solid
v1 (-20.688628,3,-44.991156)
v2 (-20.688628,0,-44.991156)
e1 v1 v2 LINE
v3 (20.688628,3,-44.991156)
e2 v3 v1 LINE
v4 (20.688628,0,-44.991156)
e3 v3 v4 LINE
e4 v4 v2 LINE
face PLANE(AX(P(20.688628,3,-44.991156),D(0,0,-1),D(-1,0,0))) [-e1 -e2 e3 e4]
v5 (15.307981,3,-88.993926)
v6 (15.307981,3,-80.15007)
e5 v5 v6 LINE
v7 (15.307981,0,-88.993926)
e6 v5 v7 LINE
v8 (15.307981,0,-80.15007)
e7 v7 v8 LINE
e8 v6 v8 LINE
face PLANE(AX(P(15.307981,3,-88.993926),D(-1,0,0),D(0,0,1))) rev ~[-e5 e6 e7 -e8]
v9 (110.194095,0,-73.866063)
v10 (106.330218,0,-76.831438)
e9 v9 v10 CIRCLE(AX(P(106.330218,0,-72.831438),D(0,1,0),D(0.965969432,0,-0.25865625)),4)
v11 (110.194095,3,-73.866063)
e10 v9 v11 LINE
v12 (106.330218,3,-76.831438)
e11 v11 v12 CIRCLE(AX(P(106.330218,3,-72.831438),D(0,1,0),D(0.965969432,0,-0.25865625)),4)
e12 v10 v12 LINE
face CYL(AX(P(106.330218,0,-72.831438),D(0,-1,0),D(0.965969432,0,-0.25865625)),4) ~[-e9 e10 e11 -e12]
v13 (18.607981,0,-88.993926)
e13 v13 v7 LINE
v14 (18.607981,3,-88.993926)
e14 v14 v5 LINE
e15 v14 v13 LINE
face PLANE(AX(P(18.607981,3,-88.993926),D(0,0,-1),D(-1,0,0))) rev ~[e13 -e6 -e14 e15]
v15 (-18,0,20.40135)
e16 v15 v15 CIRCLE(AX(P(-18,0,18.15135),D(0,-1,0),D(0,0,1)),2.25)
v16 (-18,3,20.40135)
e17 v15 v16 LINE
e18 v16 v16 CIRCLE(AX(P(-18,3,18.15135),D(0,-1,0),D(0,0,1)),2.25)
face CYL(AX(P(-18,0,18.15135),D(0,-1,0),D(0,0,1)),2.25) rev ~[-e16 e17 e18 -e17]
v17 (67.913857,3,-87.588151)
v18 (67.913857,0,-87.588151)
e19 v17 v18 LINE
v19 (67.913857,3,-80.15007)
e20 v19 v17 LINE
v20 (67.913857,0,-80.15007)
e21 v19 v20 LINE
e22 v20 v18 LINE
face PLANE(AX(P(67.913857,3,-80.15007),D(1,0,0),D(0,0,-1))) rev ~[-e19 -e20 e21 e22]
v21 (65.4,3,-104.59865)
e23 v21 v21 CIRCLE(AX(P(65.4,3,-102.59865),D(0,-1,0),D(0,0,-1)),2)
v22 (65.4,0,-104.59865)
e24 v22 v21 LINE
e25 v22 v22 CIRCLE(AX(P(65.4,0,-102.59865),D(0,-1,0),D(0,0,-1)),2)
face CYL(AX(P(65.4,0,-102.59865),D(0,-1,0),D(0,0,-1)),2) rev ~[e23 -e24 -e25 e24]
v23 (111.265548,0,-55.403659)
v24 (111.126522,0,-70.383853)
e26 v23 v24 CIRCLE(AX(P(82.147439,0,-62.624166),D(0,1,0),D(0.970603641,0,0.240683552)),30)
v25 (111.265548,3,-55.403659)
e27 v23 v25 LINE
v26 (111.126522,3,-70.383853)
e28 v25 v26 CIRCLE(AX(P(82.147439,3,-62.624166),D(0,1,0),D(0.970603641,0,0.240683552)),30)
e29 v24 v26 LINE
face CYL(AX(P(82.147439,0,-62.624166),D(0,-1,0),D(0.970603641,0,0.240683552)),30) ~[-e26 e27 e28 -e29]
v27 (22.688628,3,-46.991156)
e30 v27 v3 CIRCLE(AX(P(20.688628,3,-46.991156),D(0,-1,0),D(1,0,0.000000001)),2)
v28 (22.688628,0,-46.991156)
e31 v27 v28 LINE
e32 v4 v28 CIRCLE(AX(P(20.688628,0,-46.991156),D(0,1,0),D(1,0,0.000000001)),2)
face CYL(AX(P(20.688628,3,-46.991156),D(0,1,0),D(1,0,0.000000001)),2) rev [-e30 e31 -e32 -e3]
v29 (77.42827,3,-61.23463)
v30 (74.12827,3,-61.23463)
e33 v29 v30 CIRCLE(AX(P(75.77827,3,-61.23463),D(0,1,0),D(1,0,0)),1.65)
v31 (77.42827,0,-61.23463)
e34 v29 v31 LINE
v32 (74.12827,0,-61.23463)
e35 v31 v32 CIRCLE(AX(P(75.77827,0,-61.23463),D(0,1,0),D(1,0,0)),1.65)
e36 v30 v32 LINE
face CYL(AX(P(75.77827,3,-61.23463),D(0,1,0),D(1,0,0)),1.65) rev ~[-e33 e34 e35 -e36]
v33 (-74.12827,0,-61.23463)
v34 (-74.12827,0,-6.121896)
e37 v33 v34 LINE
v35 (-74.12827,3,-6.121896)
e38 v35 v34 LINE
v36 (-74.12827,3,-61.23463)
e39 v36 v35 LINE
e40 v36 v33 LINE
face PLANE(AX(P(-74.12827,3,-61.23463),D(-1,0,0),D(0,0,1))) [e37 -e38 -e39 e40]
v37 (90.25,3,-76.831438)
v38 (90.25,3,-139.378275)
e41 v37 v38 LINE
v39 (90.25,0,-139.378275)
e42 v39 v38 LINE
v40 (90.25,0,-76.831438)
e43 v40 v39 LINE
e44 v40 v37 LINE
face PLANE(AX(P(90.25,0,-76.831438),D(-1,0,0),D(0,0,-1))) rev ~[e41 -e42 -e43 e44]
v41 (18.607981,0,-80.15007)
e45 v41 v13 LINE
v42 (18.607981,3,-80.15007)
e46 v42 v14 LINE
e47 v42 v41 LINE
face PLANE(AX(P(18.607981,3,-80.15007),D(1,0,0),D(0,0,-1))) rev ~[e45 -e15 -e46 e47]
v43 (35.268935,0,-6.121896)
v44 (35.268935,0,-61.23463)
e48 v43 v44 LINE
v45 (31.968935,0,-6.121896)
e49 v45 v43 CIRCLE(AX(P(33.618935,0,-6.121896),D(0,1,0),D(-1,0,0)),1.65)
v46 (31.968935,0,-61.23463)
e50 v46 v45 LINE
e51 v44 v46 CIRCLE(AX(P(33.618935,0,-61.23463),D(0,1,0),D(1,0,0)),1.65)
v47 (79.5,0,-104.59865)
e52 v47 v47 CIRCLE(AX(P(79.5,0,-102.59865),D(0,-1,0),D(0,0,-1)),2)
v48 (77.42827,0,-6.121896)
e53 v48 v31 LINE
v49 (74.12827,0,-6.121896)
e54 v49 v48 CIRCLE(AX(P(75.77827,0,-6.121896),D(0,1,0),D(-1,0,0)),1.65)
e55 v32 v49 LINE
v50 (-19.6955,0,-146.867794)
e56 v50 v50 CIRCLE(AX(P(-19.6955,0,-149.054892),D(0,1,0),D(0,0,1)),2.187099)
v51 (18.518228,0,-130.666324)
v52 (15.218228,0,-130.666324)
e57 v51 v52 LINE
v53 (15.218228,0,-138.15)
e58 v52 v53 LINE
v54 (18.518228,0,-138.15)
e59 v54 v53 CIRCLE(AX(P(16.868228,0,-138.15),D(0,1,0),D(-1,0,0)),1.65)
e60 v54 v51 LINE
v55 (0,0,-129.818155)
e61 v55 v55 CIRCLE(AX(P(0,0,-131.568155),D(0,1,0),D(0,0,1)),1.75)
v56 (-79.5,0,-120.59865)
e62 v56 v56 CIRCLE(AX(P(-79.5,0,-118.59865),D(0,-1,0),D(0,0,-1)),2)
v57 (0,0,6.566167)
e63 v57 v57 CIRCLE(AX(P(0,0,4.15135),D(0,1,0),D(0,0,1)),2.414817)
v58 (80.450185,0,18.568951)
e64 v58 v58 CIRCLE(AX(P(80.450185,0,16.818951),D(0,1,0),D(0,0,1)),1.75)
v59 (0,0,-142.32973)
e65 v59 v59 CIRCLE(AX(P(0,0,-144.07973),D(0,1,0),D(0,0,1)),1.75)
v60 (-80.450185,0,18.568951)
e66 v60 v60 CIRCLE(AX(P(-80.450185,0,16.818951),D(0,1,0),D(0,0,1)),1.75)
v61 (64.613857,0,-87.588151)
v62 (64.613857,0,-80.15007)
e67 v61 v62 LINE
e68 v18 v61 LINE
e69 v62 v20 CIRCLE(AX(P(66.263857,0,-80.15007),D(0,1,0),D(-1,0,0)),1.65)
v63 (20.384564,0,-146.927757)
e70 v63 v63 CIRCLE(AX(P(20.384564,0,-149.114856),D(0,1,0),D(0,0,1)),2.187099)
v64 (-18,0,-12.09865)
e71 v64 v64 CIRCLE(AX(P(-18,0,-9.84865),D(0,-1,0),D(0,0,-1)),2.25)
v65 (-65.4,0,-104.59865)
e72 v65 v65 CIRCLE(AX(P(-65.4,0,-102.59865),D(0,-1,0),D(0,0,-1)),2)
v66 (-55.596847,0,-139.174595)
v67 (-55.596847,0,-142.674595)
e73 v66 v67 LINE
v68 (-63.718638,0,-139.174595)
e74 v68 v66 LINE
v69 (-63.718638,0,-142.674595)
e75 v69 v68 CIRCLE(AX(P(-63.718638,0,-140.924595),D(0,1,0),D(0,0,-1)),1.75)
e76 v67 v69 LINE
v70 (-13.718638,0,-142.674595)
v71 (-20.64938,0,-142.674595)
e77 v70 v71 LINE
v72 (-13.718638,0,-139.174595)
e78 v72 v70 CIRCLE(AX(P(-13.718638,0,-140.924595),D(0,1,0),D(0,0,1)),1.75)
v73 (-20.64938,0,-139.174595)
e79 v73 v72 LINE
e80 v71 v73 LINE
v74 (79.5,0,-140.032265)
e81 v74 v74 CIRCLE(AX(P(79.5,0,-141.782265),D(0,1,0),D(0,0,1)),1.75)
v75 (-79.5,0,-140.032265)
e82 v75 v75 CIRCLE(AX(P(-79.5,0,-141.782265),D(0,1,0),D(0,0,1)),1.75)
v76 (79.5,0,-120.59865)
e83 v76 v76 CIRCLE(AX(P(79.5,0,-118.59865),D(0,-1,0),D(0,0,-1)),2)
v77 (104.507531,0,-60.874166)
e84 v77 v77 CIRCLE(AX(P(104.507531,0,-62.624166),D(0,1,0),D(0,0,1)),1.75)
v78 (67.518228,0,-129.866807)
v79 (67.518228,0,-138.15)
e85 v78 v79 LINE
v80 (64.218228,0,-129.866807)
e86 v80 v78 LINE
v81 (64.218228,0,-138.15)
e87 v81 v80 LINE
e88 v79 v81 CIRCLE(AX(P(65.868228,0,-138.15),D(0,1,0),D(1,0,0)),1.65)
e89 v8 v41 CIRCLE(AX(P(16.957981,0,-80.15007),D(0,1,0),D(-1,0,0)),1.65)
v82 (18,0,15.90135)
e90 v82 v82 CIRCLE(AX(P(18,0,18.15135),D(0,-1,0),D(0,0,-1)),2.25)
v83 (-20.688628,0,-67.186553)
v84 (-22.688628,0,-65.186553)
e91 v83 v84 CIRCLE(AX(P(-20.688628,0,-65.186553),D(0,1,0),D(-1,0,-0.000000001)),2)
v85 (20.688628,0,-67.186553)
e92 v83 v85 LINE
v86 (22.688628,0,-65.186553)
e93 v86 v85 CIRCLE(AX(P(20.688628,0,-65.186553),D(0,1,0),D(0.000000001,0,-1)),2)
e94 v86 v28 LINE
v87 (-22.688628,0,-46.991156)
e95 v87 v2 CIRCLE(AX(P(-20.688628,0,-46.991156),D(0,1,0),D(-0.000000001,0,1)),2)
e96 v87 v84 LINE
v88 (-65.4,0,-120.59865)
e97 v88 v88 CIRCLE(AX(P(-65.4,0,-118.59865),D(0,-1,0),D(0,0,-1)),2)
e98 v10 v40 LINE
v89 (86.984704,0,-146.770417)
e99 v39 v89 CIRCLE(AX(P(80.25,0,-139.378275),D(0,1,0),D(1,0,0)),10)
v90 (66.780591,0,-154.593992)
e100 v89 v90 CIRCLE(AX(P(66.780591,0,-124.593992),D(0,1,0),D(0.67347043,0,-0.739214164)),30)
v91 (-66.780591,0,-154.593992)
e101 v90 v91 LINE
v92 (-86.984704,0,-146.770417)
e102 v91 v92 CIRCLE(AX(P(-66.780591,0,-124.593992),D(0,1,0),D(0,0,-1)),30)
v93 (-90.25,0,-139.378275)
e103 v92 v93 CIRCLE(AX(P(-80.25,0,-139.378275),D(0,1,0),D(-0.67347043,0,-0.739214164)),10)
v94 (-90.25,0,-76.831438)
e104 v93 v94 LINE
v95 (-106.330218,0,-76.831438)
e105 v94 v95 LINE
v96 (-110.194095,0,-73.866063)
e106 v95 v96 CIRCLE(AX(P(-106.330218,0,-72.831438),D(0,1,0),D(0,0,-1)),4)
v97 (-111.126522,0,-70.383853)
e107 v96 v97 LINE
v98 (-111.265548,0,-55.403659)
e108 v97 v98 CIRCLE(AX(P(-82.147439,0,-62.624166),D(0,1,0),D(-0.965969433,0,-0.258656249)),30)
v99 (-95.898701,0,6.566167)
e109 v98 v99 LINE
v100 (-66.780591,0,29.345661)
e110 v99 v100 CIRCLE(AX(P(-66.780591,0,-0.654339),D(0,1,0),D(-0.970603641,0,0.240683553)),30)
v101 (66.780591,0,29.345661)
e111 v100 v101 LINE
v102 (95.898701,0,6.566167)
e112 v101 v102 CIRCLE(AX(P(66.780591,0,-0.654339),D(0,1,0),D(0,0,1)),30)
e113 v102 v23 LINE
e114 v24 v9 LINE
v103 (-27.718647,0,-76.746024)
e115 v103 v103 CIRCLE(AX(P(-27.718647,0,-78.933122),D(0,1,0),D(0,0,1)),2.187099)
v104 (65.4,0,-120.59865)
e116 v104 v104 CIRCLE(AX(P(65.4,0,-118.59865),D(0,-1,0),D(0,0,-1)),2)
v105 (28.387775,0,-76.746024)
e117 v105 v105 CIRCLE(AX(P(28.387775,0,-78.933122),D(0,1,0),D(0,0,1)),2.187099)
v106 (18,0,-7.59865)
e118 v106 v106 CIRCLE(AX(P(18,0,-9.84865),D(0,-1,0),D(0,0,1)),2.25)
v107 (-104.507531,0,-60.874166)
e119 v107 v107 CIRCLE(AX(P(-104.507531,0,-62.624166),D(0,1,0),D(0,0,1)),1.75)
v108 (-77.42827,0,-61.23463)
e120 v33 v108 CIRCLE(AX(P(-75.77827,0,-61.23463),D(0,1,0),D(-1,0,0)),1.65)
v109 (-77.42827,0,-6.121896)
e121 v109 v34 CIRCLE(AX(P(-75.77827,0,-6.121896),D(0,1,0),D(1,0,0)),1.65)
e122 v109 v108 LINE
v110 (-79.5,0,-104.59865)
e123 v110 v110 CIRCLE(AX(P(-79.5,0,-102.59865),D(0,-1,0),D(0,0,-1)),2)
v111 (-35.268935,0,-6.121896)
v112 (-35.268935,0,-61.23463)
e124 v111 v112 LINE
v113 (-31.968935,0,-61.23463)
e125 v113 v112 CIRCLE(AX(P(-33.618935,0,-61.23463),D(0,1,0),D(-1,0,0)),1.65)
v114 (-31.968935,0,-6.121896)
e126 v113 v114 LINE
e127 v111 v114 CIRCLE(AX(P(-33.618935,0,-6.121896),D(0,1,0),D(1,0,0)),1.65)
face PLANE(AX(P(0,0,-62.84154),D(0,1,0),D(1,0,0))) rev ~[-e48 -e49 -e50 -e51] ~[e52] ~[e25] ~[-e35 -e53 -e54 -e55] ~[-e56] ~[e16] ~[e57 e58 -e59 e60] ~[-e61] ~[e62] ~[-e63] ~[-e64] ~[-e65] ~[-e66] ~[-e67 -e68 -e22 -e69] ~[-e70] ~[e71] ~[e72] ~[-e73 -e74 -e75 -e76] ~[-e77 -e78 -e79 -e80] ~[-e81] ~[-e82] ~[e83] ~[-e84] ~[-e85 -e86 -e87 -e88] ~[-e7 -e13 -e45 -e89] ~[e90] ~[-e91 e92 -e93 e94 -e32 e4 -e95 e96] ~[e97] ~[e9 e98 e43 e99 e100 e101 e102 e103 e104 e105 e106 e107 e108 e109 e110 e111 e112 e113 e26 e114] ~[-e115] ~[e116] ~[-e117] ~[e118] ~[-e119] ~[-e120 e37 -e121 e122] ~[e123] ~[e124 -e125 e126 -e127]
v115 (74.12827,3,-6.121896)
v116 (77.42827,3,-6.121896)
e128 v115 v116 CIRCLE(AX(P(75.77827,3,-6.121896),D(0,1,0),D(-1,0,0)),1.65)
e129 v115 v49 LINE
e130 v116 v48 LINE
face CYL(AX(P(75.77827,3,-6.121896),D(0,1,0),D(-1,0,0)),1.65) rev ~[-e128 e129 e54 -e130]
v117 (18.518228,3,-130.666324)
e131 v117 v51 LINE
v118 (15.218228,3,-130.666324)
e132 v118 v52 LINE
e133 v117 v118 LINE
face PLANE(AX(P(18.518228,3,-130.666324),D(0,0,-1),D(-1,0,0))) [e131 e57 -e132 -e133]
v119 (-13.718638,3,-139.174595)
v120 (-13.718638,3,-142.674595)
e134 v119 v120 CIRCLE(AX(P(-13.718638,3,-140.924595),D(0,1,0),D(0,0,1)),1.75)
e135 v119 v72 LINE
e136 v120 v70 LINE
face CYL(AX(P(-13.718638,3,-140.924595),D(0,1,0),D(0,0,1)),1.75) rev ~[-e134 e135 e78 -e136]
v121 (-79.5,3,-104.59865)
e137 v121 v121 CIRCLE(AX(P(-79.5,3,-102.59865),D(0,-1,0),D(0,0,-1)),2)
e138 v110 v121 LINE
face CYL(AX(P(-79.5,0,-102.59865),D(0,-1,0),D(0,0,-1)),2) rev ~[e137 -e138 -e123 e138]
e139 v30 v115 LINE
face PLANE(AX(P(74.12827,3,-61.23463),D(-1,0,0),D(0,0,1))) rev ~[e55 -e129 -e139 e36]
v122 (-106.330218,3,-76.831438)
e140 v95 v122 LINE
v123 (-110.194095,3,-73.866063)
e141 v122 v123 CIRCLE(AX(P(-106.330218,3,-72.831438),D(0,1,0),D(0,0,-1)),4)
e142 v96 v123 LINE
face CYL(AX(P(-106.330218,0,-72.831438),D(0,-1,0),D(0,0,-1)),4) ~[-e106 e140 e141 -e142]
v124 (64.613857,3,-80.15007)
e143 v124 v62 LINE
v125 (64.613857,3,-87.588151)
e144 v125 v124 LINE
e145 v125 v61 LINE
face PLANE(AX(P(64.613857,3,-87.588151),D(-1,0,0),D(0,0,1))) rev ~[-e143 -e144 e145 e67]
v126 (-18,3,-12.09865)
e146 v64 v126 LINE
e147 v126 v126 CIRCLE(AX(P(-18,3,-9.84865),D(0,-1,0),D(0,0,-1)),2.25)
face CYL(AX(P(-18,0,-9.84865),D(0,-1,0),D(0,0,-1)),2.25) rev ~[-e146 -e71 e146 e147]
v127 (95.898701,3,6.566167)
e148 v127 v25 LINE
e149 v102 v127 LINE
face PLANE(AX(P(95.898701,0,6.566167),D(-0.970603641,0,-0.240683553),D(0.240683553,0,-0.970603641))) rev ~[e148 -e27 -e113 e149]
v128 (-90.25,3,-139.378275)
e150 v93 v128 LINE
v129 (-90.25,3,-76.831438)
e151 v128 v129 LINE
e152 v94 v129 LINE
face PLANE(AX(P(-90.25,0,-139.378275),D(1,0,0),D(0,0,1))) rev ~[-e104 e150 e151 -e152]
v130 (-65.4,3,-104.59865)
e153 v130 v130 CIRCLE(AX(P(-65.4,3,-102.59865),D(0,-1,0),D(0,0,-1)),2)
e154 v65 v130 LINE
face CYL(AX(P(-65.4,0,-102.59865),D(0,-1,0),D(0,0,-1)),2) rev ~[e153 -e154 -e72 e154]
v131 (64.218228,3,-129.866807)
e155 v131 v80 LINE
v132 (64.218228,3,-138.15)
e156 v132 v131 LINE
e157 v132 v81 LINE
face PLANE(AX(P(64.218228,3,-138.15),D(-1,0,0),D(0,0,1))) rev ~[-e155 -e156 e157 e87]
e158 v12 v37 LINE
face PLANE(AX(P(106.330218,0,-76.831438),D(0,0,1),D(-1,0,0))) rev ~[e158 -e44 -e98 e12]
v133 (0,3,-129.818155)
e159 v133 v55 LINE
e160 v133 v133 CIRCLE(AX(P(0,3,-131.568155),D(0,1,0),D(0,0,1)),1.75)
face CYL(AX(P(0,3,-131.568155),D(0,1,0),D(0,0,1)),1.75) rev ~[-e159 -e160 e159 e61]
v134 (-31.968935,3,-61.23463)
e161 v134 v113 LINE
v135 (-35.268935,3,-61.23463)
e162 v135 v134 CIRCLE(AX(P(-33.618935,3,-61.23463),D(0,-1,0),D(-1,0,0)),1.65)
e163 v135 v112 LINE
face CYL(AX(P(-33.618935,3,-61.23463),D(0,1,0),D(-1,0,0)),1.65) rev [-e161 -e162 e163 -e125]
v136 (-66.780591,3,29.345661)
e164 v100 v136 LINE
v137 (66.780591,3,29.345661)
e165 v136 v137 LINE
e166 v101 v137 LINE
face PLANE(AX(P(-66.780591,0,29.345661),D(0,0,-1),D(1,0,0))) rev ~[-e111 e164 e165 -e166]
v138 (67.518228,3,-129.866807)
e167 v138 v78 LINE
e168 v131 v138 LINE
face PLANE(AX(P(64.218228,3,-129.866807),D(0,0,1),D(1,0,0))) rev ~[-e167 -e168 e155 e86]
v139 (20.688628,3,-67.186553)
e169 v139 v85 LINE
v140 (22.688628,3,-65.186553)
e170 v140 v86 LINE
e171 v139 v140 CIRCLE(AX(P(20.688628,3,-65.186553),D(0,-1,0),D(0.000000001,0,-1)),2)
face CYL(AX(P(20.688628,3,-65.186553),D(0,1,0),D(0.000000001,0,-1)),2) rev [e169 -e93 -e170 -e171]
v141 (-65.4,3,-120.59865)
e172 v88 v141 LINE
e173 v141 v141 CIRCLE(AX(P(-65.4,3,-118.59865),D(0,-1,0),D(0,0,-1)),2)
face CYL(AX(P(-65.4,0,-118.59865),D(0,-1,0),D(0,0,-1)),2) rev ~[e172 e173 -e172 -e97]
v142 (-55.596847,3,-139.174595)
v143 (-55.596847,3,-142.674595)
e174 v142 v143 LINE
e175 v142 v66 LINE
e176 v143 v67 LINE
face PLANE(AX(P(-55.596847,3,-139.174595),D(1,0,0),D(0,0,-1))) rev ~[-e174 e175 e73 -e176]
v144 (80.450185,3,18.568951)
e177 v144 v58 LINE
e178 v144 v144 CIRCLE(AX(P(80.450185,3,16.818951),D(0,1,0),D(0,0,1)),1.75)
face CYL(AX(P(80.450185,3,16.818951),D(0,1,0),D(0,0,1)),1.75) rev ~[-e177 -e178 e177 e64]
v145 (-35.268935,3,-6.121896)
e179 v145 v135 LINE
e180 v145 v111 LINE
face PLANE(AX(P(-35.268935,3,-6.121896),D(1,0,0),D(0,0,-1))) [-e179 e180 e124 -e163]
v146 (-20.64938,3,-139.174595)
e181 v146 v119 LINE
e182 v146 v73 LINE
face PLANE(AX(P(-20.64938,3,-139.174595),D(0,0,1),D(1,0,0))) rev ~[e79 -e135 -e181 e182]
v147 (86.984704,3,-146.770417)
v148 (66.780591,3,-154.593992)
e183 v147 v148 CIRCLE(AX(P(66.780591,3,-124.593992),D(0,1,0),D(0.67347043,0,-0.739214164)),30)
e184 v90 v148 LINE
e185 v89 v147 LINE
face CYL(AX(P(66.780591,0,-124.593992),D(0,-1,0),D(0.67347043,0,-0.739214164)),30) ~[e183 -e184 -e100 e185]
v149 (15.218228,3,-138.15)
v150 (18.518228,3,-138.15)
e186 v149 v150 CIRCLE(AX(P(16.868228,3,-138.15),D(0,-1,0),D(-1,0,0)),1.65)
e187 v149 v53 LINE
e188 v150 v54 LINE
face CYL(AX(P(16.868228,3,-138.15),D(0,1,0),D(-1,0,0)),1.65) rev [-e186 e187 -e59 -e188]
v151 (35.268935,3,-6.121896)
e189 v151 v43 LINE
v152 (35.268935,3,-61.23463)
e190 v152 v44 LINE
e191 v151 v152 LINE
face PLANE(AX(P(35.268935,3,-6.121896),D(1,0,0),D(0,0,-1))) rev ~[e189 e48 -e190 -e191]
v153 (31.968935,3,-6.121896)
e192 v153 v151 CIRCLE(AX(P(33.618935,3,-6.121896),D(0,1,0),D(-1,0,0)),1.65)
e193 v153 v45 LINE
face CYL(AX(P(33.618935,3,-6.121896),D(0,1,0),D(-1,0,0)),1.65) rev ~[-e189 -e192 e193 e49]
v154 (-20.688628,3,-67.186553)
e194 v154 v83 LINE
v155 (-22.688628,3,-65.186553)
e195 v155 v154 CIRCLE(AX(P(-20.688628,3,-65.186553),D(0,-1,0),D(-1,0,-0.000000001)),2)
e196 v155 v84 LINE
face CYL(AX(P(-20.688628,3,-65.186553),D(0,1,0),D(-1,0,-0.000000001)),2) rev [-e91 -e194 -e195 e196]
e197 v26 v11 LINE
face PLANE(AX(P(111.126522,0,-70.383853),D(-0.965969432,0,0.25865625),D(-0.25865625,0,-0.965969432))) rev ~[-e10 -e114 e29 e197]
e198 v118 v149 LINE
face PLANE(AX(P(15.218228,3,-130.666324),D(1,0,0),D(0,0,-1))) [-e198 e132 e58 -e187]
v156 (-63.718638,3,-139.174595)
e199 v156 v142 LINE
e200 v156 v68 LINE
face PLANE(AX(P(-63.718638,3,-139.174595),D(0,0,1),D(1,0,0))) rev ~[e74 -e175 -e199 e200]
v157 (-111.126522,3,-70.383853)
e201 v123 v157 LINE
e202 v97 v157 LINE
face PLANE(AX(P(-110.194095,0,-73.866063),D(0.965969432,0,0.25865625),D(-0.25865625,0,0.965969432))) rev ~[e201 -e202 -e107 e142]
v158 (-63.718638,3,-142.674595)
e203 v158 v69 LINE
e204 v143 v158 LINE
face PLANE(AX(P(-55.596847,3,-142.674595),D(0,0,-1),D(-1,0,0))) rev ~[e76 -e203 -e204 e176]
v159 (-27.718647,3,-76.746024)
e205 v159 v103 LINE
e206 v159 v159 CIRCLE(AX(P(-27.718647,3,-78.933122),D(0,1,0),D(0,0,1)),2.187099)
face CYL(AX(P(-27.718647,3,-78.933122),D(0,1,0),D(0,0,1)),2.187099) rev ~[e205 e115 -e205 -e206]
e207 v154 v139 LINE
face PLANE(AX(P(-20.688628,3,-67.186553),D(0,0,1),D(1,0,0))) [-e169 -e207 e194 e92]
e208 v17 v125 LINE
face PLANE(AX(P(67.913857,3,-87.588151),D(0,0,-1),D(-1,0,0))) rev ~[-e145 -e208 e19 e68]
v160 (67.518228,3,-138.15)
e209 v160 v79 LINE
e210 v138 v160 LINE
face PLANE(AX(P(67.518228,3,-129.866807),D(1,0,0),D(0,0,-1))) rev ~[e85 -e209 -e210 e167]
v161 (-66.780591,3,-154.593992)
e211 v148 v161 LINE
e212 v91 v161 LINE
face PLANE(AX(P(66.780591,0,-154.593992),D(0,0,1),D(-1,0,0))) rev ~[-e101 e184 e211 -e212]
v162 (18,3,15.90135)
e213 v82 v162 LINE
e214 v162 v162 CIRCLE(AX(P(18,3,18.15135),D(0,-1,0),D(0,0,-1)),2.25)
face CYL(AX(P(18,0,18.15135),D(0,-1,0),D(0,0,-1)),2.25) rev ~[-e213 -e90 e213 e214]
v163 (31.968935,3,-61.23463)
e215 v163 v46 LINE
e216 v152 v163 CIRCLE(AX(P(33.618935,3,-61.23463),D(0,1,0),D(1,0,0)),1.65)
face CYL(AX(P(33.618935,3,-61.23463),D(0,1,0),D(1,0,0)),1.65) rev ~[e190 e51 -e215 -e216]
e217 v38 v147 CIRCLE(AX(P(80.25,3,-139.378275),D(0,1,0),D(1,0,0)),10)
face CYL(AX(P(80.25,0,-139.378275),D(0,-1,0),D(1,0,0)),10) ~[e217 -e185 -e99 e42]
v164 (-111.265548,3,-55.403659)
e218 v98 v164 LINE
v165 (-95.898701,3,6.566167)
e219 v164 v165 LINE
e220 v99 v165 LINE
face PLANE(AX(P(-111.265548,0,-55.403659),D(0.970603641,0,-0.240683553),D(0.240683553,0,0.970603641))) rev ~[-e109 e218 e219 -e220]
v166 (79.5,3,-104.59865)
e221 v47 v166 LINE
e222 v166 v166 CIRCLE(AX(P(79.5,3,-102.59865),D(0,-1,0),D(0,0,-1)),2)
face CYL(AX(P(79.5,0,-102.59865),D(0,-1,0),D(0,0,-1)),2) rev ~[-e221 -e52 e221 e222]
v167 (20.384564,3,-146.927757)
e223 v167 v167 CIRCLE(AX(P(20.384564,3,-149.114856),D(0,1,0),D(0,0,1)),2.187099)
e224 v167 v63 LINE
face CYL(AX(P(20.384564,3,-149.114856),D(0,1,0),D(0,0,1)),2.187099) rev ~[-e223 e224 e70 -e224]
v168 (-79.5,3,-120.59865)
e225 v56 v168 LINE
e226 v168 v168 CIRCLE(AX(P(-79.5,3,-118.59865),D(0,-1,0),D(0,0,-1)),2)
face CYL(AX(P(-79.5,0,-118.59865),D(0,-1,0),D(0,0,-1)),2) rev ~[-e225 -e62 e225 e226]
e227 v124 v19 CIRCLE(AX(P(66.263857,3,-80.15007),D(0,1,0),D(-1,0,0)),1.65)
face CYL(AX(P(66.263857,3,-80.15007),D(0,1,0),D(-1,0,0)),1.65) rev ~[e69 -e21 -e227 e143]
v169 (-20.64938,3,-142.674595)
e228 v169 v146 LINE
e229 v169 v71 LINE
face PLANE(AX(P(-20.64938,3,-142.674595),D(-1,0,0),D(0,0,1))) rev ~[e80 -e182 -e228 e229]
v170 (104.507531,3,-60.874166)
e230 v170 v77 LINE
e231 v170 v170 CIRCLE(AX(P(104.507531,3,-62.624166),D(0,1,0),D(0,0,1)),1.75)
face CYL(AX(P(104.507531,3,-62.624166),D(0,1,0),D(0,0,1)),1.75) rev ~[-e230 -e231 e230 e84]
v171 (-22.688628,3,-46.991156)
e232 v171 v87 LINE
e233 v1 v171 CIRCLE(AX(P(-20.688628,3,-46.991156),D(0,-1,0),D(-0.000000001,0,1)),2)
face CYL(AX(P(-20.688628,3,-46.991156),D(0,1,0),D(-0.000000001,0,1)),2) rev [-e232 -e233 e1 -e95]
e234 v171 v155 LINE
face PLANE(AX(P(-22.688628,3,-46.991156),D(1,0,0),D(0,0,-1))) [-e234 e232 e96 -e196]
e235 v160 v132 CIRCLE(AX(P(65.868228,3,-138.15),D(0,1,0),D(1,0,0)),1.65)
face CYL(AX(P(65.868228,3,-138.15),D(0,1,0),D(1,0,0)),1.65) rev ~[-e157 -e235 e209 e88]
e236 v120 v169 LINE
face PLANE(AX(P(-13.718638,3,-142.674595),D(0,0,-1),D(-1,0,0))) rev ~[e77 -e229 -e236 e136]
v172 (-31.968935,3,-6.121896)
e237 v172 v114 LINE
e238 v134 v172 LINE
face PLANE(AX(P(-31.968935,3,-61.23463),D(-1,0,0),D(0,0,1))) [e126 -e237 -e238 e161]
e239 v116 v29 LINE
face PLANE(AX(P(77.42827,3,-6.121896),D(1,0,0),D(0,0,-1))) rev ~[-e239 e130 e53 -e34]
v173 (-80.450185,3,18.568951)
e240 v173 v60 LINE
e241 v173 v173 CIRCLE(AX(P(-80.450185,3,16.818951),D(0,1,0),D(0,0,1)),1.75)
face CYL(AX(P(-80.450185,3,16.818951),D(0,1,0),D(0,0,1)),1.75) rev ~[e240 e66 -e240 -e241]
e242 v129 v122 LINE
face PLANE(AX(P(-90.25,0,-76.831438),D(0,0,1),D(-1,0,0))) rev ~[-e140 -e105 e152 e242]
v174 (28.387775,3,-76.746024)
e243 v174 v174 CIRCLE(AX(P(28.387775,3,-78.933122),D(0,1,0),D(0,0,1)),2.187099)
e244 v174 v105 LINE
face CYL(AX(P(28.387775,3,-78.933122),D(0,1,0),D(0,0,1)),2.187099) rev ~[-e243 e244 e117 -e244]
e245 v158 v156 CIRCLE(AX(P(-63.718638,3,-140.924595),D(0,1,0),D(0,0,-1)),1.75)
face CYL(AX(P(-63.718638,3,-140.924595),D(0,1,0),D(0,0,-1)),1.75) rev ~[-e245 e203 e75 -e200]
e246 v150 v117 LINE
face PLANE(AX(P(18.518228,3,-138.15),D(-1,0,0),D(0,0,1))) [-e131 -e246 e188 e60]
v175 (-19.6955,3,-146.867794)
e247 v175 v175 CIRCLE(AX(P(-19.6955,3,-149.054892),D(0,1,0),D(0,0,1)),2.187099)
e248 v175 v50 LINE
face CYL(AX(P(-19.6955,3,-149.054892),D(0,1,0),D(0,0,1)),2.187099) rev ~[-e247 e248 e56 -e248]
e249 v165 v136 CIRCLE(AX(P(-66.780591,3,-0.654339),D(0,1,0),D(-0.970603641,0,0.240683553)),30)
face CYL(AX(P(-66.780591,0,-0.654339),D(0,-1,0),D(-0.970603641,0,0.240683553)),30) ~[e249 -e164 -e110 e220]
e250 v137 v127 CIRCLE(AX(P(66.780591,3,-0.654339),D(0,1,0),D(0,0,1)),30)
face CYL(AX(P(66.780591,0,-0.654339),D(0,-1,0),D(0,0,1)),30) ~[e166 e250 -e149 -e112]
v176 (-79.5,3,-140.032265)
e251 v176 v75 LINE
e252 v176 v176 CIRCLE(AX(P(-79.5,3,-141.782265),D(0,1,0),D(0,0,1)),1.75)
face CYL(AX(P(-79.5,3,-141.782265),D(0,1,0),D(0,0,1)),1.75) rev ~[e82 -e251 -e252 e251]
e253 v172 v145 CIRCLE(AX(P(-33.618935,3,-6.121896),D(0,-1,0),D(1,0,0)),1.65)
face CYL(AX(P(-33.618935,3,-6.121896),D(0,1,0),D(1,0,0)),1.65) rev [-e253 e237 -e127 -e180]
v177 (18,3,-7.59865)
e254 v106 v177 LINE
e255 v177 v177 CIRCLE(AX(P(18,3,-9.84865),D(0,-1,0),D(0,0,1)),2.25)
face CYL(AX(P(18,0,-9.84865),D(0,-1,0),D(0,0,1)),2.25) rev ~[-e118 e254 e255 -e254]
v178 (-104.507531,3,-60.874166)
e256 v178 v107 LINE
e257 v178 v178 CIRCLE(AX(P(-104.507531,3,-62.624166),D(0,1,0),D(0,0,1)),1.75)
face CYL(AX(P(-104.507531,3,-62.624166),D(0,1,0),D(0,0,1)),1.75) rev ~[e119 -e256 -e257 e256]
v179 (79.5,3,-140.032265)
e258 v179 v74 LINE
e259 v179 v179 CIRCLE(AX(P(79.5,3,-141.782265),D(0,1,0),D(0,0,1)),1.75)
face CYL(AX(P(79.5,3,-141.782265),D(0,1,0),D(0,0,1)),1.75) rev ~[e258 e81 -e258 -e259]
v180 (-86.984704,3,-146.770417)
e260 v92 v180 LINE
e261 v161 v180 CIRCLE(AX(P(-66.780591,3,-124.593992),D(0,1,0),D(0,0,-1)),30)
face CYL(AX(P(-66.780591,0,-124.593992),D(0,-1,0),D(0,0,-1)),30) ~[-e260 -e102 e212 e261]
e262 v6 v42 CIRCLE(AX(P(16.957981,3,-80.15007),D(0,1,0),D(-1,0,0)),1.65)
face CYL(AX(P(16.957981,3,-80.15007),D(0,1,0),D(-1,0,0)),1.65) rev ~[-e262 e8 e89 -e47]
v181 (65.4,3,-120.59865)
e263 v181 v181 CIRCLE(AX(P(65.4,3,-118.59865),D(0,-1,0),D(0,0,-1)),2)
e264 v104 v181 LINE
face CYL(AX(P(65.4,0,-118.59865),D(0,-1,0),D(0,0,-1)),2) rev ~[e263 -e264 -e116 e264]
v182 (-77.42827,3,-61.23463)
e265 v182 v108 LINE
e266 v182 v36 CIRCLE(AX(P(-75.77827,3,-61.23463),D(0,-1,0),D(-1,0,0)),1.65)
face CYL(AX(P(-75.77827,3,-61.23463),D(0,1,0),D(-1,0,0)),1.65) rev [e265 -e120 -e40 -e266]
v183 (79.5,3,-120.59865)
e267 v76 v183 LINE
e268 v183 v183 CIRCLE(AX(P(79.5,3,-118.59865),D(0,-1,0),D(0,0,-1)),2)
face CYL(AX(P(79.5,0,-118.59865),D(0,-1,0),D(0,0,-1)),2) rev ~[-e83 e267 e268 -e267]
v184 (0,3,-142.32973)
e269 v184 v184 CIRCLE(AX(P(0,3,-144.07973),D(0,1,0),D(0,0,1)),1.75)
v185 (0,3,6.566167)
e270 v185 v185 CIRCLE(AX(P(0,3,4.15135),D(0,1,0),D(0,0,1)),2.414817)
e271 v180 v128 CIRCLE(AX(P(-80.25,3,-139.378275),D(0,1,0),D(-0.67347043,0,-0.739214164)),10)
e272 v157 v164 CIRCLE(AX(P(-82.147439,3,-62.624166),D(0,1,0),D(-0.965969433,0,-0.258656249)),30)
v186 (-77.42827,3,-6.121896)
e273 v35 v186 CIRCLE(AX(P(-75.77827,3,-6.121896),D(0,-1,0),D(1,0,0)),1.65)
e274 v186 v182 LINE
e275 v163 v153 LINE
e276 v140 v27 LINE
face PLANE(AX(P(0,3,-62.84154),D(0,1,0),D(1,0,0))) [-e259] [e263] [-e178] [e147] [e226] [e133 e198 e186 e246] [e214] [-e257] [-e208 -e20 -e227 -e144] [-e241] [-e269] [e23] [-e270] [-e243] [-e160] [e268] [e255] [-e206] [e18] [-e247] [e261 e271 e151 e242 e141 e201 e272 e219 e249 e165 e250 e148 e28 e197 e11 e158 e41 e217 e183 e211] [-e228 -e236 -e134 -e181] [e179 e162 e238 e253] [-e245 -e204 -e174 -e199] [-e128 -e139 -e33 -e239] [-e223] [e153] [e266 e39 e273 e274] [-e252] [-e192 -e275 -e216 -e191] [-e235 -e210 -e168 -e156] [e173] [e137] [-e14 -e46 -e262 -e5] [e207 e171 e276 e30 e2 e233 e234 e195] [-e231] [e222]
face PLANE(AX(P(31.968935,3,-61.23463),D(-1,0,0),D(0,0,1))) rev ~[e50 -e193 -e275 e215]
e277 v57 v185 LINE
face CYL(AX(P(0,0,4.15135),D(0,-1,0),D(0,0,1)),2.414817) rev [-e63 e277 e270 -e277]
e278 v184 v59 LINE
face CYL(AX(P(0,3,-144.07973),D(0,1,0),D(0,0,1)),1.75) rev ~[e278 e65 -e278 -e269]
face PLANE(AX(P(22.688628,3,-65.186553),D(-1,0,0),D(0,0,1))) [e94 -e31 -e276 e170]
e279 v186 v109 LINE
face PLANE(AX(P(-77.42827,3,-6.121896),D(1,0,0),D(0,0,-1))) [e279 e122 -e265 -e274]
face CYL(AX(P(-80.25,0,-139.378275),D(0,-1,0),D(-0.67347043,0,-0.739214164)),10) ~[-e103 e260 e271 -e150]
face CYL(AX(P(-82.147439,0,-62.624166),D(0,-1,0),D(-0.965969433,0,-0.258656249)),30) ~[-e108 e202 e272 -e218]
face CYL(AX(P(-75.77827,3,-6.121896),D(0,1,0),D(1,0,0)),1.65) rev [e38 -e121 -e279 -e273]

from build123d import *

# Parameters (mm, degrees)
SKETCH_1_R           = 2.414816814
EXTRUDE_1_DEPTH      = 3
SKETCH_2_R           = 1.75
CUT_EXTRUDE_1_DEPTH  = 10
SKETCH_3_R           = 1.75
CUT_EXTRUDE_2_DEPTH  = 10
SKETCH_4_R           = 2
CUT_EXTRUDE_3_DEPTH  = 10
SKETCH_5_R           = 2.187098749
CUT_EXTRUDE_4_DEPTH  = 10
SKETCH_6_R           = 1.75
CUT_EXTRUDE_5_DEPTH  = 10
CUT_EXTRUDE_6_DEPTH  = 10
CUT_EXTRUDE_7_DEPTH  = 10
CUT_EXTRUDE_8_DEPTH  = 10
CUT_EXTRUDE_9_DEPTH  = 10
SKETCH_12_R          = 2.25
CUT_EXTRUDE_10_DEPTH = 10


with BuildPart() as part:
    # 草图1 → 凸台-拉伸1 (new body)
    with BuildSketch(Plane(origin=(0, 0, 0), x_dir=(1, 0, 0), z_dir=(0, 1, 0))):
        with BuildLine():
            Line((90.25, 83.348649636), (90.25, 115.848649636))
            Line((90.25, 115.848649636), (90.25, 131.848649636))
            Line((90.25, 131.848649636), (90.25, 139.378275452))
            ThreePointArc((90.25, 139.378275452), (89.397323186, 143.418879184), (86.984704295, 146.770417094))
            ThreePointArc((86.984704295, 146.770417094), (77.613579276, 152.56980983), (66.78059141, 154.593992167))
            Line((66.78059141, 154.593992167), (-66.78059141, 154.593992167))
            ThreePointArc((-66.78059141, 154.593992167), (-77.613579276, 152.56980983), (-86.984704295, 146.770417094))
            ThreePointArc((-86.984704295, 146.770417094), (-89.397323186, 143.418879184), (-90.25, 139.378275452))
            Line((-90.25, 139.378275452), (-90.25, 131.848649636))
            Line((-90.25, 131.848649636), (-90.25, 83.348649636))
            Line((-90.25, 83.348649636), (-90.25, 76.831438081))
            Line((-90.25, 76.831438081), (-106.330217655, 76.831438081))
            ThreePointArc((-106.330217655, 76.831438081), (-108.765530777, 76.004646236), (-110.194095385, 73.86606308))
            Line((-110.194095385, 73.86606308), (-111.126521712, 70.383853271))
            ThreePointArc((-111.126521712, 70.383853271), (-112.146146857, 62.902573916), (-111.265547961, 55.403659207))
            Line((-111.265547961, 55.403659207), (-95.898700635, -6.566167178))
            ThreePointArc((-95.898700635, -6.566167178), (-85.265515034, -22.974194171), (-66.78059141, -29.345660602))
            Line((-66.78059141, -29.345660602), (66.78059141, -29.345660602))
            ThreePointArc((66.78059141, -29.345660602), (85.265515034, -22.974194171), (95.898700635, -6.566167178))
            Line((95.898700635, -6.566167178), (111.265547961, 55.403659207))
            ThreePointArc((111.265547961, 55.403659207), (112.146146857, 62.902573916), (111.126521712, 70.383853271))
            Line((111.126521712, 70.383853271), (110.194095385, 73.86606308))
            ThreePointArc((110.194095385, 73.86606308), (108.765530777, 76.004646236), (106.330217655, 76.831438081))
            Line((106.330217655, 76.831438081), (90.25, 76.831438081))
            Line((90.25, 76.831438081), (90.25, 83.348649636))
        make_face()
        with Locations(Location((0, -4.151350364, 0), (0, 0, 270))):
            Circle(SKETCH_1_R, mode=Mode.SUBTRACT)
    extrude(amount=EXTRUDE_1_DEPTH)

    # 草图2 → 切除-拉伸1 (cut)
    with BuildSketch(Plane(origin=(0, 3, 0), x_dir=(1, 0, 0), z_dir=(0, 1, 0))):
        with Locations(Location((80.450184708, -16.818951307, 0), (0, 0, 270))):
            Circle(SKETCH_2_R)
        with Locations(Location((104.507530951, 62.624165782, 0), (0, 0, 270))):
            Circle(SKETCH_2_R)
        with Locations(Location((-104.507530951, 62.624165782, 0), (0, 0, 270))):
            Circle(SKETCH_2_R)
        with Locations(Location((-80.450184708, -16.818951307, 0), (0, 0, 270))):
            Circle(SKETCH_2_R)
    extrude(amount=-CUT_EXTRUDE_1_DEPTH, mode=Mode.SUBTRACT)

    # 草图3 → 切除-拉伸2 (cut)
    with BuildSketch(Plane(origin=(0, 3, 0), x_dir=(1, 0, 0), z_dir=(0, 1, 0))):
        with Locations(Location((0, 131.568155221, 0), (0, 0, 270))):
            Circle(SKETCH_3_R)
        with Locations(Location((0, 144.079729864, 0), (0, 0, 270))):
            Circle(SKETCH_3_R)
    extrude(amount=-CUT_EXTRUDE_2_DEPTH, mode=Mode.SUBTRACT)

    # 草图4 → 切除-拉伸3 (cut)
    with BuildSketch(Plane.XZ):
        with Locations(Location((79.5, -102.598649636, 0), (0, 0, 270))):
            Circle(SKETCH_4_R)
        with Locations(Location((65.4, -102.598649636, 0), (0, 0, 270))):
            Circle(SKETCH_4_R)
        with Locations(Location((65.4, -118.598649636, 0), (0, 0, 270))):
            Circle(SKETCH_4_R)
        with Locations(Location((79.5, -118.598649636, 0), (0, 0, 270))):
            Circle(SKETCH_4_R)
        with Locations(Location((-65.4, -102.598649636, 0), (0, 0, 270))):
            Circle(SKETCH_4_R)
        with Locations(Location((-79.5, -102.598649636, 0), (0, 0, 270))):
            Circle(SKETCH_4_R)
        with Locations(Location((-79.5, -118.598649636, 0), (0, 0, 270))):
            Circle(SKETCH_4_R)
        with Locations(Location((-65.4, -118.598649636, 0), (0, 0, 270))):
            Circle(SKETCH_4_R)
    extrude(amount=-CUT_EXTRUDE_3_DEPTH, mode=Mode.SUBTRACT)

    # 草图5 → 切除-拉伸4 (cut)
    with BuildSketch(Plane(origin=(0, 3, 0), x_dir=(1, 0, 0), z_dir=(0, 1, 0))):
        with Locations(Location((28.387774848, 78.93312243, 0), (0, 0, 270))):
            Circle(SKETCH_5_R)
        with Locations(Location((-27.718646552, 78.93312243, 0), (0, 0, 270))):
            Circle(SKETCH_5_R)
        with Locations(Location((20.384564295, 149.11485609, 0), (0, 0, 270))):
            Circle(SKETCH_5_R)
        with Locations(Location((-19.695499635, 149.054892436, 0), (0, 0, 270))):
            Circle(SKETCH_5_R)
    extrude(amount=-CUT_EXTRUDE_4_DEPTH, mode=Mode.SUBTRACT)

    # 草图6 → 切除-拉伸5 (cut)
    with BuildSketch(Plane(origin=(0, 3, 0), x_dir=(1, 0, 0), z_dir=(0, 1, 0))):
        with Locations(Location((79.5, 141.78226533, 0), (0, 0, 270))):
            Circle(SKETCH_6_R)
        with Locations(Location((-79.5, 141.78226533, 0), (0, 0, 270))):
            Circle(SKETCH_6_R)
    extrude(amount=-CUT_EXTRUDE_5_DEPTH, mode=Mode.SUBTRACT)

    # 草图7 → 切除-拉伸6 (cut)
    with BuildSketch(Plane(origin=(0, 3, 0), x_dir=(1, 0, 0), z_dir=(0, 1, 0))):
        with BuildLine():
            Line((67.913857225, 80.150069555), (67.913857225, 87.58815074))
            Line((67.913857225, 87.58815074), (64.613857225, 87.58815074))
            Line((64.613857225, 87.58815074), (64.613857225, 80.150069555))
            ThreePointArc((64.613857225, 80.150069555), (66.263857225, 78.500069555), (67.913857225, 80.150069555))
        make_face()
        with BuildLine():
            Line((18.51822815, 138.15000011), (18.51822815, 130.666323995))
            Line((18.51822815, 130.666323995), (15.21822815, 130.666323995))
            Line((15.21822815, 130.666323995), (15.21822815, 138.15000011))
            ThreePointArc((15.21822815, 138.15000011), (16.86822815, 139.80000011), (18.51822815, 138.15000011))
        make_face()
        with BuildLine():
            Line((18.607981267, 80.150069555), (18.607981267, 88.993926487))
            Line((18.607981267, 88.993926487), (15.307981267, 88.993926487))
            Line((15.307981267, 88.993926487), (15.307981267, 80.150069555))
            ThreePointArc((15.307981267, 80.150069555), (16.957981267, 78.500069555), (18.607981267, 80.150069555))
        make_face()
        with BuildLine():
            Line((64.21822815, 138.15000011), (64.21822815, 129.866807359))
            Line((64.21822815, 129.866807359), (67.51822815, 129.866807359))
            Line((67.51822815, 129.866807359), (67.51822815, 138.15000011))
            ThreePointArc((67.51822815, 138.15000011), (65.86822815, 139.80000011), (64.21822815, 138.15000011))
        make_face()
    extrude(amount=-CUT_EXTRUDE_6_DEPTH, mode=Mode.SUBTRACT)

    # 草图8 → 切除-拉伸7 (cut)
    with BuildSketch(Plane(origin=(0, 3, 0), x_dir=(1, 0, 0), z_dir=(0, 1, 0))):
        with BuildLine():
            Line((-63.718637525, 139.174595172), (-55.596846554, 139.174595172))
            Line((-55.596846554, 139.174595172), (-55.596846554, 142.674595172))
            Line((-55.596846554, 142.674595172), (-63.718637525, 142.674595172))
            ThreePointArc((-63.718637525, 142.674595172), (-65.468637525, 140.924595172), (-63.718637525, 139.174595172))
        make_face()
        with BuildLine():
            Line((-13.718637525, 142.674595172), (-20.649379666, 142.674595172))
            Line((-20.649379666, 142.674595172), (-20.649379666, 139.174595172))
            Line((-20.649379666, 139.174595172), (-13.718637525, 139.174595172))
            ThreePointArc((-13.718637525, 139.174595172), (-11.968637525, 140.924595172), (-13.718637525, 142.674595172))
        make_face()
    extrude(amount=-CUT_EXTRUDE_7_DEPTH, mode=Mode.SUBTRACT)

    # 草图9 → 切除-拉伸8 (cut)
    with BuildSketch(Plane(origin=(0, 3, 0), x_dir=(1, 0, 0), z_dir=(0, 1, 0))):
        with BuildLine():
            Line((-20.688628359, 67.186553007), (20.688628359, 67.186553007))
            ThreePointArc((20.688628359, 67.186553007), (22.102841921, 66.600766569), (22.688628359, 65.186553007))
            Line((22.688628359, 65.186553007), (22.688628359, 46.991155699))
            ThreePointArc((22.688628359, 46.991155699), (22.102841921, 45.576942137), (20.688628359, 44.991155699))
            Line((20.688628359, 44.991155699), (-20.688628359, 44.991155699))
            ThreePointArc((-20.688628359, 44.991155699), (-22.102841921, 45.576942137), (-22.688628359, 46.991155699))
            Line((-22.688628359, 46.991155699), (-22.688628359, 65.186553007))
            ThreePointArc((-22.688628359, 65.186553007), (-22.102841921, 66.600766569), (-20.688628359, 67.186553007))
        make_face()
    extrude(amount=-CUT_EXTRUDE_8_DEPTH, mode=Mode.SUBTRACT)

    # 草图11 → 切除-拉伸9 (cut)
    with BuildSketch(Plane(origin=(0, 3, 0), x_dir=(1, 0, 0), z_dir=(0, 1, 0))):
        with BuildLine():
            Line((-74.128270021, 61.234629534), (-74.128270021, 6.121895865))
            ThreePointArc((-74.128270021, 6.121895865), (-75.778270021, 4.471895865), (-77.428270021, 6.121895865))
            Line((-77.428270021, 6.121895865), (-77.428270021, 61.234629534))
            ThreePointArc((-77.428270021, 61.234629534), (-75.778270021, 62.884629534), (-74.128270021, 61.234629534))
        make_face()
        with BuildLine():
            Line((-31.968935269, 61.234629534), (-31.968935269, 6.121895865))
            ThreePointArc((-31.968935269, 6.121895865), (-33.618935269, 4.471895865), (-35.268935269, 6.121895865))
            Line((-35.268935269, 6.121895865), (-35.268935269, 61.234629534))
            ThreePointArc((-35.268935269, 61.234629534), (-33.618935269, 62.884629534), (-31.968935269, 61.234629534))
        make_face()
        with BuildLine():
            Line((31.968935269, 61.234629534), (31.968935269, 6.121895865))
            ThreePointArc((31.968935269, 6.121895865), (33.618935269, 4.471895865), (35.268935269, 6.121895865))
            Line((35.268935269, 6.121895865), (35.268935269, 61.234629534))
            ThreePointArc((35.268935269, 61.234629534), (33.618935269, 62.884629534), (31.968935269, 61.234629534))
        make_face()
        with BuildLine():
            Line((74.128270021, 61.234629534), (74.128270021, 6.121895865))
            ThreePointArc((74.128270021, 6.121895865), (75.778270021, 4.471895865), (77.428270021, 6.121895865))
            Line((77.428270021, 6.121895865), (77.428270021, 61.234629534))
            ThreePointArc((77.428270021, 61.234629534), (75.778270021, 62.884629534), (74.128270021, 61.234629534))
        make_face()
    extrude(amount=-CUT_EXTRUDE_9_DEPTH, mode=Mode.SUBTRACT)

    # 草图12 → 切除-拉伸10 (cut)
    with BuildSketch(Plane.XZ):
        with Locations(Location((18, 18.151350364, 0), (0, 0, 270))):
            Circle(SKETCH_12_R)
        with Locations(Location((18, -9.848649636, 0), (0, 0, 90))):
            Circle(SKETCH_12_R)
        with Locations(Location((-18, 18.151350364, 0), (0, 0, 90))):
            Circle(SKETCH_12_R)
        with Locations(Location((-18, -9.848649636, 0), (0, 0, 270))):
            Circle(SKETCH_12_R)
    extrude(amount=-CUT_EXTRUDE_10_DEPTH, mode=Mode.SUBTRACT)


solid = part.part
